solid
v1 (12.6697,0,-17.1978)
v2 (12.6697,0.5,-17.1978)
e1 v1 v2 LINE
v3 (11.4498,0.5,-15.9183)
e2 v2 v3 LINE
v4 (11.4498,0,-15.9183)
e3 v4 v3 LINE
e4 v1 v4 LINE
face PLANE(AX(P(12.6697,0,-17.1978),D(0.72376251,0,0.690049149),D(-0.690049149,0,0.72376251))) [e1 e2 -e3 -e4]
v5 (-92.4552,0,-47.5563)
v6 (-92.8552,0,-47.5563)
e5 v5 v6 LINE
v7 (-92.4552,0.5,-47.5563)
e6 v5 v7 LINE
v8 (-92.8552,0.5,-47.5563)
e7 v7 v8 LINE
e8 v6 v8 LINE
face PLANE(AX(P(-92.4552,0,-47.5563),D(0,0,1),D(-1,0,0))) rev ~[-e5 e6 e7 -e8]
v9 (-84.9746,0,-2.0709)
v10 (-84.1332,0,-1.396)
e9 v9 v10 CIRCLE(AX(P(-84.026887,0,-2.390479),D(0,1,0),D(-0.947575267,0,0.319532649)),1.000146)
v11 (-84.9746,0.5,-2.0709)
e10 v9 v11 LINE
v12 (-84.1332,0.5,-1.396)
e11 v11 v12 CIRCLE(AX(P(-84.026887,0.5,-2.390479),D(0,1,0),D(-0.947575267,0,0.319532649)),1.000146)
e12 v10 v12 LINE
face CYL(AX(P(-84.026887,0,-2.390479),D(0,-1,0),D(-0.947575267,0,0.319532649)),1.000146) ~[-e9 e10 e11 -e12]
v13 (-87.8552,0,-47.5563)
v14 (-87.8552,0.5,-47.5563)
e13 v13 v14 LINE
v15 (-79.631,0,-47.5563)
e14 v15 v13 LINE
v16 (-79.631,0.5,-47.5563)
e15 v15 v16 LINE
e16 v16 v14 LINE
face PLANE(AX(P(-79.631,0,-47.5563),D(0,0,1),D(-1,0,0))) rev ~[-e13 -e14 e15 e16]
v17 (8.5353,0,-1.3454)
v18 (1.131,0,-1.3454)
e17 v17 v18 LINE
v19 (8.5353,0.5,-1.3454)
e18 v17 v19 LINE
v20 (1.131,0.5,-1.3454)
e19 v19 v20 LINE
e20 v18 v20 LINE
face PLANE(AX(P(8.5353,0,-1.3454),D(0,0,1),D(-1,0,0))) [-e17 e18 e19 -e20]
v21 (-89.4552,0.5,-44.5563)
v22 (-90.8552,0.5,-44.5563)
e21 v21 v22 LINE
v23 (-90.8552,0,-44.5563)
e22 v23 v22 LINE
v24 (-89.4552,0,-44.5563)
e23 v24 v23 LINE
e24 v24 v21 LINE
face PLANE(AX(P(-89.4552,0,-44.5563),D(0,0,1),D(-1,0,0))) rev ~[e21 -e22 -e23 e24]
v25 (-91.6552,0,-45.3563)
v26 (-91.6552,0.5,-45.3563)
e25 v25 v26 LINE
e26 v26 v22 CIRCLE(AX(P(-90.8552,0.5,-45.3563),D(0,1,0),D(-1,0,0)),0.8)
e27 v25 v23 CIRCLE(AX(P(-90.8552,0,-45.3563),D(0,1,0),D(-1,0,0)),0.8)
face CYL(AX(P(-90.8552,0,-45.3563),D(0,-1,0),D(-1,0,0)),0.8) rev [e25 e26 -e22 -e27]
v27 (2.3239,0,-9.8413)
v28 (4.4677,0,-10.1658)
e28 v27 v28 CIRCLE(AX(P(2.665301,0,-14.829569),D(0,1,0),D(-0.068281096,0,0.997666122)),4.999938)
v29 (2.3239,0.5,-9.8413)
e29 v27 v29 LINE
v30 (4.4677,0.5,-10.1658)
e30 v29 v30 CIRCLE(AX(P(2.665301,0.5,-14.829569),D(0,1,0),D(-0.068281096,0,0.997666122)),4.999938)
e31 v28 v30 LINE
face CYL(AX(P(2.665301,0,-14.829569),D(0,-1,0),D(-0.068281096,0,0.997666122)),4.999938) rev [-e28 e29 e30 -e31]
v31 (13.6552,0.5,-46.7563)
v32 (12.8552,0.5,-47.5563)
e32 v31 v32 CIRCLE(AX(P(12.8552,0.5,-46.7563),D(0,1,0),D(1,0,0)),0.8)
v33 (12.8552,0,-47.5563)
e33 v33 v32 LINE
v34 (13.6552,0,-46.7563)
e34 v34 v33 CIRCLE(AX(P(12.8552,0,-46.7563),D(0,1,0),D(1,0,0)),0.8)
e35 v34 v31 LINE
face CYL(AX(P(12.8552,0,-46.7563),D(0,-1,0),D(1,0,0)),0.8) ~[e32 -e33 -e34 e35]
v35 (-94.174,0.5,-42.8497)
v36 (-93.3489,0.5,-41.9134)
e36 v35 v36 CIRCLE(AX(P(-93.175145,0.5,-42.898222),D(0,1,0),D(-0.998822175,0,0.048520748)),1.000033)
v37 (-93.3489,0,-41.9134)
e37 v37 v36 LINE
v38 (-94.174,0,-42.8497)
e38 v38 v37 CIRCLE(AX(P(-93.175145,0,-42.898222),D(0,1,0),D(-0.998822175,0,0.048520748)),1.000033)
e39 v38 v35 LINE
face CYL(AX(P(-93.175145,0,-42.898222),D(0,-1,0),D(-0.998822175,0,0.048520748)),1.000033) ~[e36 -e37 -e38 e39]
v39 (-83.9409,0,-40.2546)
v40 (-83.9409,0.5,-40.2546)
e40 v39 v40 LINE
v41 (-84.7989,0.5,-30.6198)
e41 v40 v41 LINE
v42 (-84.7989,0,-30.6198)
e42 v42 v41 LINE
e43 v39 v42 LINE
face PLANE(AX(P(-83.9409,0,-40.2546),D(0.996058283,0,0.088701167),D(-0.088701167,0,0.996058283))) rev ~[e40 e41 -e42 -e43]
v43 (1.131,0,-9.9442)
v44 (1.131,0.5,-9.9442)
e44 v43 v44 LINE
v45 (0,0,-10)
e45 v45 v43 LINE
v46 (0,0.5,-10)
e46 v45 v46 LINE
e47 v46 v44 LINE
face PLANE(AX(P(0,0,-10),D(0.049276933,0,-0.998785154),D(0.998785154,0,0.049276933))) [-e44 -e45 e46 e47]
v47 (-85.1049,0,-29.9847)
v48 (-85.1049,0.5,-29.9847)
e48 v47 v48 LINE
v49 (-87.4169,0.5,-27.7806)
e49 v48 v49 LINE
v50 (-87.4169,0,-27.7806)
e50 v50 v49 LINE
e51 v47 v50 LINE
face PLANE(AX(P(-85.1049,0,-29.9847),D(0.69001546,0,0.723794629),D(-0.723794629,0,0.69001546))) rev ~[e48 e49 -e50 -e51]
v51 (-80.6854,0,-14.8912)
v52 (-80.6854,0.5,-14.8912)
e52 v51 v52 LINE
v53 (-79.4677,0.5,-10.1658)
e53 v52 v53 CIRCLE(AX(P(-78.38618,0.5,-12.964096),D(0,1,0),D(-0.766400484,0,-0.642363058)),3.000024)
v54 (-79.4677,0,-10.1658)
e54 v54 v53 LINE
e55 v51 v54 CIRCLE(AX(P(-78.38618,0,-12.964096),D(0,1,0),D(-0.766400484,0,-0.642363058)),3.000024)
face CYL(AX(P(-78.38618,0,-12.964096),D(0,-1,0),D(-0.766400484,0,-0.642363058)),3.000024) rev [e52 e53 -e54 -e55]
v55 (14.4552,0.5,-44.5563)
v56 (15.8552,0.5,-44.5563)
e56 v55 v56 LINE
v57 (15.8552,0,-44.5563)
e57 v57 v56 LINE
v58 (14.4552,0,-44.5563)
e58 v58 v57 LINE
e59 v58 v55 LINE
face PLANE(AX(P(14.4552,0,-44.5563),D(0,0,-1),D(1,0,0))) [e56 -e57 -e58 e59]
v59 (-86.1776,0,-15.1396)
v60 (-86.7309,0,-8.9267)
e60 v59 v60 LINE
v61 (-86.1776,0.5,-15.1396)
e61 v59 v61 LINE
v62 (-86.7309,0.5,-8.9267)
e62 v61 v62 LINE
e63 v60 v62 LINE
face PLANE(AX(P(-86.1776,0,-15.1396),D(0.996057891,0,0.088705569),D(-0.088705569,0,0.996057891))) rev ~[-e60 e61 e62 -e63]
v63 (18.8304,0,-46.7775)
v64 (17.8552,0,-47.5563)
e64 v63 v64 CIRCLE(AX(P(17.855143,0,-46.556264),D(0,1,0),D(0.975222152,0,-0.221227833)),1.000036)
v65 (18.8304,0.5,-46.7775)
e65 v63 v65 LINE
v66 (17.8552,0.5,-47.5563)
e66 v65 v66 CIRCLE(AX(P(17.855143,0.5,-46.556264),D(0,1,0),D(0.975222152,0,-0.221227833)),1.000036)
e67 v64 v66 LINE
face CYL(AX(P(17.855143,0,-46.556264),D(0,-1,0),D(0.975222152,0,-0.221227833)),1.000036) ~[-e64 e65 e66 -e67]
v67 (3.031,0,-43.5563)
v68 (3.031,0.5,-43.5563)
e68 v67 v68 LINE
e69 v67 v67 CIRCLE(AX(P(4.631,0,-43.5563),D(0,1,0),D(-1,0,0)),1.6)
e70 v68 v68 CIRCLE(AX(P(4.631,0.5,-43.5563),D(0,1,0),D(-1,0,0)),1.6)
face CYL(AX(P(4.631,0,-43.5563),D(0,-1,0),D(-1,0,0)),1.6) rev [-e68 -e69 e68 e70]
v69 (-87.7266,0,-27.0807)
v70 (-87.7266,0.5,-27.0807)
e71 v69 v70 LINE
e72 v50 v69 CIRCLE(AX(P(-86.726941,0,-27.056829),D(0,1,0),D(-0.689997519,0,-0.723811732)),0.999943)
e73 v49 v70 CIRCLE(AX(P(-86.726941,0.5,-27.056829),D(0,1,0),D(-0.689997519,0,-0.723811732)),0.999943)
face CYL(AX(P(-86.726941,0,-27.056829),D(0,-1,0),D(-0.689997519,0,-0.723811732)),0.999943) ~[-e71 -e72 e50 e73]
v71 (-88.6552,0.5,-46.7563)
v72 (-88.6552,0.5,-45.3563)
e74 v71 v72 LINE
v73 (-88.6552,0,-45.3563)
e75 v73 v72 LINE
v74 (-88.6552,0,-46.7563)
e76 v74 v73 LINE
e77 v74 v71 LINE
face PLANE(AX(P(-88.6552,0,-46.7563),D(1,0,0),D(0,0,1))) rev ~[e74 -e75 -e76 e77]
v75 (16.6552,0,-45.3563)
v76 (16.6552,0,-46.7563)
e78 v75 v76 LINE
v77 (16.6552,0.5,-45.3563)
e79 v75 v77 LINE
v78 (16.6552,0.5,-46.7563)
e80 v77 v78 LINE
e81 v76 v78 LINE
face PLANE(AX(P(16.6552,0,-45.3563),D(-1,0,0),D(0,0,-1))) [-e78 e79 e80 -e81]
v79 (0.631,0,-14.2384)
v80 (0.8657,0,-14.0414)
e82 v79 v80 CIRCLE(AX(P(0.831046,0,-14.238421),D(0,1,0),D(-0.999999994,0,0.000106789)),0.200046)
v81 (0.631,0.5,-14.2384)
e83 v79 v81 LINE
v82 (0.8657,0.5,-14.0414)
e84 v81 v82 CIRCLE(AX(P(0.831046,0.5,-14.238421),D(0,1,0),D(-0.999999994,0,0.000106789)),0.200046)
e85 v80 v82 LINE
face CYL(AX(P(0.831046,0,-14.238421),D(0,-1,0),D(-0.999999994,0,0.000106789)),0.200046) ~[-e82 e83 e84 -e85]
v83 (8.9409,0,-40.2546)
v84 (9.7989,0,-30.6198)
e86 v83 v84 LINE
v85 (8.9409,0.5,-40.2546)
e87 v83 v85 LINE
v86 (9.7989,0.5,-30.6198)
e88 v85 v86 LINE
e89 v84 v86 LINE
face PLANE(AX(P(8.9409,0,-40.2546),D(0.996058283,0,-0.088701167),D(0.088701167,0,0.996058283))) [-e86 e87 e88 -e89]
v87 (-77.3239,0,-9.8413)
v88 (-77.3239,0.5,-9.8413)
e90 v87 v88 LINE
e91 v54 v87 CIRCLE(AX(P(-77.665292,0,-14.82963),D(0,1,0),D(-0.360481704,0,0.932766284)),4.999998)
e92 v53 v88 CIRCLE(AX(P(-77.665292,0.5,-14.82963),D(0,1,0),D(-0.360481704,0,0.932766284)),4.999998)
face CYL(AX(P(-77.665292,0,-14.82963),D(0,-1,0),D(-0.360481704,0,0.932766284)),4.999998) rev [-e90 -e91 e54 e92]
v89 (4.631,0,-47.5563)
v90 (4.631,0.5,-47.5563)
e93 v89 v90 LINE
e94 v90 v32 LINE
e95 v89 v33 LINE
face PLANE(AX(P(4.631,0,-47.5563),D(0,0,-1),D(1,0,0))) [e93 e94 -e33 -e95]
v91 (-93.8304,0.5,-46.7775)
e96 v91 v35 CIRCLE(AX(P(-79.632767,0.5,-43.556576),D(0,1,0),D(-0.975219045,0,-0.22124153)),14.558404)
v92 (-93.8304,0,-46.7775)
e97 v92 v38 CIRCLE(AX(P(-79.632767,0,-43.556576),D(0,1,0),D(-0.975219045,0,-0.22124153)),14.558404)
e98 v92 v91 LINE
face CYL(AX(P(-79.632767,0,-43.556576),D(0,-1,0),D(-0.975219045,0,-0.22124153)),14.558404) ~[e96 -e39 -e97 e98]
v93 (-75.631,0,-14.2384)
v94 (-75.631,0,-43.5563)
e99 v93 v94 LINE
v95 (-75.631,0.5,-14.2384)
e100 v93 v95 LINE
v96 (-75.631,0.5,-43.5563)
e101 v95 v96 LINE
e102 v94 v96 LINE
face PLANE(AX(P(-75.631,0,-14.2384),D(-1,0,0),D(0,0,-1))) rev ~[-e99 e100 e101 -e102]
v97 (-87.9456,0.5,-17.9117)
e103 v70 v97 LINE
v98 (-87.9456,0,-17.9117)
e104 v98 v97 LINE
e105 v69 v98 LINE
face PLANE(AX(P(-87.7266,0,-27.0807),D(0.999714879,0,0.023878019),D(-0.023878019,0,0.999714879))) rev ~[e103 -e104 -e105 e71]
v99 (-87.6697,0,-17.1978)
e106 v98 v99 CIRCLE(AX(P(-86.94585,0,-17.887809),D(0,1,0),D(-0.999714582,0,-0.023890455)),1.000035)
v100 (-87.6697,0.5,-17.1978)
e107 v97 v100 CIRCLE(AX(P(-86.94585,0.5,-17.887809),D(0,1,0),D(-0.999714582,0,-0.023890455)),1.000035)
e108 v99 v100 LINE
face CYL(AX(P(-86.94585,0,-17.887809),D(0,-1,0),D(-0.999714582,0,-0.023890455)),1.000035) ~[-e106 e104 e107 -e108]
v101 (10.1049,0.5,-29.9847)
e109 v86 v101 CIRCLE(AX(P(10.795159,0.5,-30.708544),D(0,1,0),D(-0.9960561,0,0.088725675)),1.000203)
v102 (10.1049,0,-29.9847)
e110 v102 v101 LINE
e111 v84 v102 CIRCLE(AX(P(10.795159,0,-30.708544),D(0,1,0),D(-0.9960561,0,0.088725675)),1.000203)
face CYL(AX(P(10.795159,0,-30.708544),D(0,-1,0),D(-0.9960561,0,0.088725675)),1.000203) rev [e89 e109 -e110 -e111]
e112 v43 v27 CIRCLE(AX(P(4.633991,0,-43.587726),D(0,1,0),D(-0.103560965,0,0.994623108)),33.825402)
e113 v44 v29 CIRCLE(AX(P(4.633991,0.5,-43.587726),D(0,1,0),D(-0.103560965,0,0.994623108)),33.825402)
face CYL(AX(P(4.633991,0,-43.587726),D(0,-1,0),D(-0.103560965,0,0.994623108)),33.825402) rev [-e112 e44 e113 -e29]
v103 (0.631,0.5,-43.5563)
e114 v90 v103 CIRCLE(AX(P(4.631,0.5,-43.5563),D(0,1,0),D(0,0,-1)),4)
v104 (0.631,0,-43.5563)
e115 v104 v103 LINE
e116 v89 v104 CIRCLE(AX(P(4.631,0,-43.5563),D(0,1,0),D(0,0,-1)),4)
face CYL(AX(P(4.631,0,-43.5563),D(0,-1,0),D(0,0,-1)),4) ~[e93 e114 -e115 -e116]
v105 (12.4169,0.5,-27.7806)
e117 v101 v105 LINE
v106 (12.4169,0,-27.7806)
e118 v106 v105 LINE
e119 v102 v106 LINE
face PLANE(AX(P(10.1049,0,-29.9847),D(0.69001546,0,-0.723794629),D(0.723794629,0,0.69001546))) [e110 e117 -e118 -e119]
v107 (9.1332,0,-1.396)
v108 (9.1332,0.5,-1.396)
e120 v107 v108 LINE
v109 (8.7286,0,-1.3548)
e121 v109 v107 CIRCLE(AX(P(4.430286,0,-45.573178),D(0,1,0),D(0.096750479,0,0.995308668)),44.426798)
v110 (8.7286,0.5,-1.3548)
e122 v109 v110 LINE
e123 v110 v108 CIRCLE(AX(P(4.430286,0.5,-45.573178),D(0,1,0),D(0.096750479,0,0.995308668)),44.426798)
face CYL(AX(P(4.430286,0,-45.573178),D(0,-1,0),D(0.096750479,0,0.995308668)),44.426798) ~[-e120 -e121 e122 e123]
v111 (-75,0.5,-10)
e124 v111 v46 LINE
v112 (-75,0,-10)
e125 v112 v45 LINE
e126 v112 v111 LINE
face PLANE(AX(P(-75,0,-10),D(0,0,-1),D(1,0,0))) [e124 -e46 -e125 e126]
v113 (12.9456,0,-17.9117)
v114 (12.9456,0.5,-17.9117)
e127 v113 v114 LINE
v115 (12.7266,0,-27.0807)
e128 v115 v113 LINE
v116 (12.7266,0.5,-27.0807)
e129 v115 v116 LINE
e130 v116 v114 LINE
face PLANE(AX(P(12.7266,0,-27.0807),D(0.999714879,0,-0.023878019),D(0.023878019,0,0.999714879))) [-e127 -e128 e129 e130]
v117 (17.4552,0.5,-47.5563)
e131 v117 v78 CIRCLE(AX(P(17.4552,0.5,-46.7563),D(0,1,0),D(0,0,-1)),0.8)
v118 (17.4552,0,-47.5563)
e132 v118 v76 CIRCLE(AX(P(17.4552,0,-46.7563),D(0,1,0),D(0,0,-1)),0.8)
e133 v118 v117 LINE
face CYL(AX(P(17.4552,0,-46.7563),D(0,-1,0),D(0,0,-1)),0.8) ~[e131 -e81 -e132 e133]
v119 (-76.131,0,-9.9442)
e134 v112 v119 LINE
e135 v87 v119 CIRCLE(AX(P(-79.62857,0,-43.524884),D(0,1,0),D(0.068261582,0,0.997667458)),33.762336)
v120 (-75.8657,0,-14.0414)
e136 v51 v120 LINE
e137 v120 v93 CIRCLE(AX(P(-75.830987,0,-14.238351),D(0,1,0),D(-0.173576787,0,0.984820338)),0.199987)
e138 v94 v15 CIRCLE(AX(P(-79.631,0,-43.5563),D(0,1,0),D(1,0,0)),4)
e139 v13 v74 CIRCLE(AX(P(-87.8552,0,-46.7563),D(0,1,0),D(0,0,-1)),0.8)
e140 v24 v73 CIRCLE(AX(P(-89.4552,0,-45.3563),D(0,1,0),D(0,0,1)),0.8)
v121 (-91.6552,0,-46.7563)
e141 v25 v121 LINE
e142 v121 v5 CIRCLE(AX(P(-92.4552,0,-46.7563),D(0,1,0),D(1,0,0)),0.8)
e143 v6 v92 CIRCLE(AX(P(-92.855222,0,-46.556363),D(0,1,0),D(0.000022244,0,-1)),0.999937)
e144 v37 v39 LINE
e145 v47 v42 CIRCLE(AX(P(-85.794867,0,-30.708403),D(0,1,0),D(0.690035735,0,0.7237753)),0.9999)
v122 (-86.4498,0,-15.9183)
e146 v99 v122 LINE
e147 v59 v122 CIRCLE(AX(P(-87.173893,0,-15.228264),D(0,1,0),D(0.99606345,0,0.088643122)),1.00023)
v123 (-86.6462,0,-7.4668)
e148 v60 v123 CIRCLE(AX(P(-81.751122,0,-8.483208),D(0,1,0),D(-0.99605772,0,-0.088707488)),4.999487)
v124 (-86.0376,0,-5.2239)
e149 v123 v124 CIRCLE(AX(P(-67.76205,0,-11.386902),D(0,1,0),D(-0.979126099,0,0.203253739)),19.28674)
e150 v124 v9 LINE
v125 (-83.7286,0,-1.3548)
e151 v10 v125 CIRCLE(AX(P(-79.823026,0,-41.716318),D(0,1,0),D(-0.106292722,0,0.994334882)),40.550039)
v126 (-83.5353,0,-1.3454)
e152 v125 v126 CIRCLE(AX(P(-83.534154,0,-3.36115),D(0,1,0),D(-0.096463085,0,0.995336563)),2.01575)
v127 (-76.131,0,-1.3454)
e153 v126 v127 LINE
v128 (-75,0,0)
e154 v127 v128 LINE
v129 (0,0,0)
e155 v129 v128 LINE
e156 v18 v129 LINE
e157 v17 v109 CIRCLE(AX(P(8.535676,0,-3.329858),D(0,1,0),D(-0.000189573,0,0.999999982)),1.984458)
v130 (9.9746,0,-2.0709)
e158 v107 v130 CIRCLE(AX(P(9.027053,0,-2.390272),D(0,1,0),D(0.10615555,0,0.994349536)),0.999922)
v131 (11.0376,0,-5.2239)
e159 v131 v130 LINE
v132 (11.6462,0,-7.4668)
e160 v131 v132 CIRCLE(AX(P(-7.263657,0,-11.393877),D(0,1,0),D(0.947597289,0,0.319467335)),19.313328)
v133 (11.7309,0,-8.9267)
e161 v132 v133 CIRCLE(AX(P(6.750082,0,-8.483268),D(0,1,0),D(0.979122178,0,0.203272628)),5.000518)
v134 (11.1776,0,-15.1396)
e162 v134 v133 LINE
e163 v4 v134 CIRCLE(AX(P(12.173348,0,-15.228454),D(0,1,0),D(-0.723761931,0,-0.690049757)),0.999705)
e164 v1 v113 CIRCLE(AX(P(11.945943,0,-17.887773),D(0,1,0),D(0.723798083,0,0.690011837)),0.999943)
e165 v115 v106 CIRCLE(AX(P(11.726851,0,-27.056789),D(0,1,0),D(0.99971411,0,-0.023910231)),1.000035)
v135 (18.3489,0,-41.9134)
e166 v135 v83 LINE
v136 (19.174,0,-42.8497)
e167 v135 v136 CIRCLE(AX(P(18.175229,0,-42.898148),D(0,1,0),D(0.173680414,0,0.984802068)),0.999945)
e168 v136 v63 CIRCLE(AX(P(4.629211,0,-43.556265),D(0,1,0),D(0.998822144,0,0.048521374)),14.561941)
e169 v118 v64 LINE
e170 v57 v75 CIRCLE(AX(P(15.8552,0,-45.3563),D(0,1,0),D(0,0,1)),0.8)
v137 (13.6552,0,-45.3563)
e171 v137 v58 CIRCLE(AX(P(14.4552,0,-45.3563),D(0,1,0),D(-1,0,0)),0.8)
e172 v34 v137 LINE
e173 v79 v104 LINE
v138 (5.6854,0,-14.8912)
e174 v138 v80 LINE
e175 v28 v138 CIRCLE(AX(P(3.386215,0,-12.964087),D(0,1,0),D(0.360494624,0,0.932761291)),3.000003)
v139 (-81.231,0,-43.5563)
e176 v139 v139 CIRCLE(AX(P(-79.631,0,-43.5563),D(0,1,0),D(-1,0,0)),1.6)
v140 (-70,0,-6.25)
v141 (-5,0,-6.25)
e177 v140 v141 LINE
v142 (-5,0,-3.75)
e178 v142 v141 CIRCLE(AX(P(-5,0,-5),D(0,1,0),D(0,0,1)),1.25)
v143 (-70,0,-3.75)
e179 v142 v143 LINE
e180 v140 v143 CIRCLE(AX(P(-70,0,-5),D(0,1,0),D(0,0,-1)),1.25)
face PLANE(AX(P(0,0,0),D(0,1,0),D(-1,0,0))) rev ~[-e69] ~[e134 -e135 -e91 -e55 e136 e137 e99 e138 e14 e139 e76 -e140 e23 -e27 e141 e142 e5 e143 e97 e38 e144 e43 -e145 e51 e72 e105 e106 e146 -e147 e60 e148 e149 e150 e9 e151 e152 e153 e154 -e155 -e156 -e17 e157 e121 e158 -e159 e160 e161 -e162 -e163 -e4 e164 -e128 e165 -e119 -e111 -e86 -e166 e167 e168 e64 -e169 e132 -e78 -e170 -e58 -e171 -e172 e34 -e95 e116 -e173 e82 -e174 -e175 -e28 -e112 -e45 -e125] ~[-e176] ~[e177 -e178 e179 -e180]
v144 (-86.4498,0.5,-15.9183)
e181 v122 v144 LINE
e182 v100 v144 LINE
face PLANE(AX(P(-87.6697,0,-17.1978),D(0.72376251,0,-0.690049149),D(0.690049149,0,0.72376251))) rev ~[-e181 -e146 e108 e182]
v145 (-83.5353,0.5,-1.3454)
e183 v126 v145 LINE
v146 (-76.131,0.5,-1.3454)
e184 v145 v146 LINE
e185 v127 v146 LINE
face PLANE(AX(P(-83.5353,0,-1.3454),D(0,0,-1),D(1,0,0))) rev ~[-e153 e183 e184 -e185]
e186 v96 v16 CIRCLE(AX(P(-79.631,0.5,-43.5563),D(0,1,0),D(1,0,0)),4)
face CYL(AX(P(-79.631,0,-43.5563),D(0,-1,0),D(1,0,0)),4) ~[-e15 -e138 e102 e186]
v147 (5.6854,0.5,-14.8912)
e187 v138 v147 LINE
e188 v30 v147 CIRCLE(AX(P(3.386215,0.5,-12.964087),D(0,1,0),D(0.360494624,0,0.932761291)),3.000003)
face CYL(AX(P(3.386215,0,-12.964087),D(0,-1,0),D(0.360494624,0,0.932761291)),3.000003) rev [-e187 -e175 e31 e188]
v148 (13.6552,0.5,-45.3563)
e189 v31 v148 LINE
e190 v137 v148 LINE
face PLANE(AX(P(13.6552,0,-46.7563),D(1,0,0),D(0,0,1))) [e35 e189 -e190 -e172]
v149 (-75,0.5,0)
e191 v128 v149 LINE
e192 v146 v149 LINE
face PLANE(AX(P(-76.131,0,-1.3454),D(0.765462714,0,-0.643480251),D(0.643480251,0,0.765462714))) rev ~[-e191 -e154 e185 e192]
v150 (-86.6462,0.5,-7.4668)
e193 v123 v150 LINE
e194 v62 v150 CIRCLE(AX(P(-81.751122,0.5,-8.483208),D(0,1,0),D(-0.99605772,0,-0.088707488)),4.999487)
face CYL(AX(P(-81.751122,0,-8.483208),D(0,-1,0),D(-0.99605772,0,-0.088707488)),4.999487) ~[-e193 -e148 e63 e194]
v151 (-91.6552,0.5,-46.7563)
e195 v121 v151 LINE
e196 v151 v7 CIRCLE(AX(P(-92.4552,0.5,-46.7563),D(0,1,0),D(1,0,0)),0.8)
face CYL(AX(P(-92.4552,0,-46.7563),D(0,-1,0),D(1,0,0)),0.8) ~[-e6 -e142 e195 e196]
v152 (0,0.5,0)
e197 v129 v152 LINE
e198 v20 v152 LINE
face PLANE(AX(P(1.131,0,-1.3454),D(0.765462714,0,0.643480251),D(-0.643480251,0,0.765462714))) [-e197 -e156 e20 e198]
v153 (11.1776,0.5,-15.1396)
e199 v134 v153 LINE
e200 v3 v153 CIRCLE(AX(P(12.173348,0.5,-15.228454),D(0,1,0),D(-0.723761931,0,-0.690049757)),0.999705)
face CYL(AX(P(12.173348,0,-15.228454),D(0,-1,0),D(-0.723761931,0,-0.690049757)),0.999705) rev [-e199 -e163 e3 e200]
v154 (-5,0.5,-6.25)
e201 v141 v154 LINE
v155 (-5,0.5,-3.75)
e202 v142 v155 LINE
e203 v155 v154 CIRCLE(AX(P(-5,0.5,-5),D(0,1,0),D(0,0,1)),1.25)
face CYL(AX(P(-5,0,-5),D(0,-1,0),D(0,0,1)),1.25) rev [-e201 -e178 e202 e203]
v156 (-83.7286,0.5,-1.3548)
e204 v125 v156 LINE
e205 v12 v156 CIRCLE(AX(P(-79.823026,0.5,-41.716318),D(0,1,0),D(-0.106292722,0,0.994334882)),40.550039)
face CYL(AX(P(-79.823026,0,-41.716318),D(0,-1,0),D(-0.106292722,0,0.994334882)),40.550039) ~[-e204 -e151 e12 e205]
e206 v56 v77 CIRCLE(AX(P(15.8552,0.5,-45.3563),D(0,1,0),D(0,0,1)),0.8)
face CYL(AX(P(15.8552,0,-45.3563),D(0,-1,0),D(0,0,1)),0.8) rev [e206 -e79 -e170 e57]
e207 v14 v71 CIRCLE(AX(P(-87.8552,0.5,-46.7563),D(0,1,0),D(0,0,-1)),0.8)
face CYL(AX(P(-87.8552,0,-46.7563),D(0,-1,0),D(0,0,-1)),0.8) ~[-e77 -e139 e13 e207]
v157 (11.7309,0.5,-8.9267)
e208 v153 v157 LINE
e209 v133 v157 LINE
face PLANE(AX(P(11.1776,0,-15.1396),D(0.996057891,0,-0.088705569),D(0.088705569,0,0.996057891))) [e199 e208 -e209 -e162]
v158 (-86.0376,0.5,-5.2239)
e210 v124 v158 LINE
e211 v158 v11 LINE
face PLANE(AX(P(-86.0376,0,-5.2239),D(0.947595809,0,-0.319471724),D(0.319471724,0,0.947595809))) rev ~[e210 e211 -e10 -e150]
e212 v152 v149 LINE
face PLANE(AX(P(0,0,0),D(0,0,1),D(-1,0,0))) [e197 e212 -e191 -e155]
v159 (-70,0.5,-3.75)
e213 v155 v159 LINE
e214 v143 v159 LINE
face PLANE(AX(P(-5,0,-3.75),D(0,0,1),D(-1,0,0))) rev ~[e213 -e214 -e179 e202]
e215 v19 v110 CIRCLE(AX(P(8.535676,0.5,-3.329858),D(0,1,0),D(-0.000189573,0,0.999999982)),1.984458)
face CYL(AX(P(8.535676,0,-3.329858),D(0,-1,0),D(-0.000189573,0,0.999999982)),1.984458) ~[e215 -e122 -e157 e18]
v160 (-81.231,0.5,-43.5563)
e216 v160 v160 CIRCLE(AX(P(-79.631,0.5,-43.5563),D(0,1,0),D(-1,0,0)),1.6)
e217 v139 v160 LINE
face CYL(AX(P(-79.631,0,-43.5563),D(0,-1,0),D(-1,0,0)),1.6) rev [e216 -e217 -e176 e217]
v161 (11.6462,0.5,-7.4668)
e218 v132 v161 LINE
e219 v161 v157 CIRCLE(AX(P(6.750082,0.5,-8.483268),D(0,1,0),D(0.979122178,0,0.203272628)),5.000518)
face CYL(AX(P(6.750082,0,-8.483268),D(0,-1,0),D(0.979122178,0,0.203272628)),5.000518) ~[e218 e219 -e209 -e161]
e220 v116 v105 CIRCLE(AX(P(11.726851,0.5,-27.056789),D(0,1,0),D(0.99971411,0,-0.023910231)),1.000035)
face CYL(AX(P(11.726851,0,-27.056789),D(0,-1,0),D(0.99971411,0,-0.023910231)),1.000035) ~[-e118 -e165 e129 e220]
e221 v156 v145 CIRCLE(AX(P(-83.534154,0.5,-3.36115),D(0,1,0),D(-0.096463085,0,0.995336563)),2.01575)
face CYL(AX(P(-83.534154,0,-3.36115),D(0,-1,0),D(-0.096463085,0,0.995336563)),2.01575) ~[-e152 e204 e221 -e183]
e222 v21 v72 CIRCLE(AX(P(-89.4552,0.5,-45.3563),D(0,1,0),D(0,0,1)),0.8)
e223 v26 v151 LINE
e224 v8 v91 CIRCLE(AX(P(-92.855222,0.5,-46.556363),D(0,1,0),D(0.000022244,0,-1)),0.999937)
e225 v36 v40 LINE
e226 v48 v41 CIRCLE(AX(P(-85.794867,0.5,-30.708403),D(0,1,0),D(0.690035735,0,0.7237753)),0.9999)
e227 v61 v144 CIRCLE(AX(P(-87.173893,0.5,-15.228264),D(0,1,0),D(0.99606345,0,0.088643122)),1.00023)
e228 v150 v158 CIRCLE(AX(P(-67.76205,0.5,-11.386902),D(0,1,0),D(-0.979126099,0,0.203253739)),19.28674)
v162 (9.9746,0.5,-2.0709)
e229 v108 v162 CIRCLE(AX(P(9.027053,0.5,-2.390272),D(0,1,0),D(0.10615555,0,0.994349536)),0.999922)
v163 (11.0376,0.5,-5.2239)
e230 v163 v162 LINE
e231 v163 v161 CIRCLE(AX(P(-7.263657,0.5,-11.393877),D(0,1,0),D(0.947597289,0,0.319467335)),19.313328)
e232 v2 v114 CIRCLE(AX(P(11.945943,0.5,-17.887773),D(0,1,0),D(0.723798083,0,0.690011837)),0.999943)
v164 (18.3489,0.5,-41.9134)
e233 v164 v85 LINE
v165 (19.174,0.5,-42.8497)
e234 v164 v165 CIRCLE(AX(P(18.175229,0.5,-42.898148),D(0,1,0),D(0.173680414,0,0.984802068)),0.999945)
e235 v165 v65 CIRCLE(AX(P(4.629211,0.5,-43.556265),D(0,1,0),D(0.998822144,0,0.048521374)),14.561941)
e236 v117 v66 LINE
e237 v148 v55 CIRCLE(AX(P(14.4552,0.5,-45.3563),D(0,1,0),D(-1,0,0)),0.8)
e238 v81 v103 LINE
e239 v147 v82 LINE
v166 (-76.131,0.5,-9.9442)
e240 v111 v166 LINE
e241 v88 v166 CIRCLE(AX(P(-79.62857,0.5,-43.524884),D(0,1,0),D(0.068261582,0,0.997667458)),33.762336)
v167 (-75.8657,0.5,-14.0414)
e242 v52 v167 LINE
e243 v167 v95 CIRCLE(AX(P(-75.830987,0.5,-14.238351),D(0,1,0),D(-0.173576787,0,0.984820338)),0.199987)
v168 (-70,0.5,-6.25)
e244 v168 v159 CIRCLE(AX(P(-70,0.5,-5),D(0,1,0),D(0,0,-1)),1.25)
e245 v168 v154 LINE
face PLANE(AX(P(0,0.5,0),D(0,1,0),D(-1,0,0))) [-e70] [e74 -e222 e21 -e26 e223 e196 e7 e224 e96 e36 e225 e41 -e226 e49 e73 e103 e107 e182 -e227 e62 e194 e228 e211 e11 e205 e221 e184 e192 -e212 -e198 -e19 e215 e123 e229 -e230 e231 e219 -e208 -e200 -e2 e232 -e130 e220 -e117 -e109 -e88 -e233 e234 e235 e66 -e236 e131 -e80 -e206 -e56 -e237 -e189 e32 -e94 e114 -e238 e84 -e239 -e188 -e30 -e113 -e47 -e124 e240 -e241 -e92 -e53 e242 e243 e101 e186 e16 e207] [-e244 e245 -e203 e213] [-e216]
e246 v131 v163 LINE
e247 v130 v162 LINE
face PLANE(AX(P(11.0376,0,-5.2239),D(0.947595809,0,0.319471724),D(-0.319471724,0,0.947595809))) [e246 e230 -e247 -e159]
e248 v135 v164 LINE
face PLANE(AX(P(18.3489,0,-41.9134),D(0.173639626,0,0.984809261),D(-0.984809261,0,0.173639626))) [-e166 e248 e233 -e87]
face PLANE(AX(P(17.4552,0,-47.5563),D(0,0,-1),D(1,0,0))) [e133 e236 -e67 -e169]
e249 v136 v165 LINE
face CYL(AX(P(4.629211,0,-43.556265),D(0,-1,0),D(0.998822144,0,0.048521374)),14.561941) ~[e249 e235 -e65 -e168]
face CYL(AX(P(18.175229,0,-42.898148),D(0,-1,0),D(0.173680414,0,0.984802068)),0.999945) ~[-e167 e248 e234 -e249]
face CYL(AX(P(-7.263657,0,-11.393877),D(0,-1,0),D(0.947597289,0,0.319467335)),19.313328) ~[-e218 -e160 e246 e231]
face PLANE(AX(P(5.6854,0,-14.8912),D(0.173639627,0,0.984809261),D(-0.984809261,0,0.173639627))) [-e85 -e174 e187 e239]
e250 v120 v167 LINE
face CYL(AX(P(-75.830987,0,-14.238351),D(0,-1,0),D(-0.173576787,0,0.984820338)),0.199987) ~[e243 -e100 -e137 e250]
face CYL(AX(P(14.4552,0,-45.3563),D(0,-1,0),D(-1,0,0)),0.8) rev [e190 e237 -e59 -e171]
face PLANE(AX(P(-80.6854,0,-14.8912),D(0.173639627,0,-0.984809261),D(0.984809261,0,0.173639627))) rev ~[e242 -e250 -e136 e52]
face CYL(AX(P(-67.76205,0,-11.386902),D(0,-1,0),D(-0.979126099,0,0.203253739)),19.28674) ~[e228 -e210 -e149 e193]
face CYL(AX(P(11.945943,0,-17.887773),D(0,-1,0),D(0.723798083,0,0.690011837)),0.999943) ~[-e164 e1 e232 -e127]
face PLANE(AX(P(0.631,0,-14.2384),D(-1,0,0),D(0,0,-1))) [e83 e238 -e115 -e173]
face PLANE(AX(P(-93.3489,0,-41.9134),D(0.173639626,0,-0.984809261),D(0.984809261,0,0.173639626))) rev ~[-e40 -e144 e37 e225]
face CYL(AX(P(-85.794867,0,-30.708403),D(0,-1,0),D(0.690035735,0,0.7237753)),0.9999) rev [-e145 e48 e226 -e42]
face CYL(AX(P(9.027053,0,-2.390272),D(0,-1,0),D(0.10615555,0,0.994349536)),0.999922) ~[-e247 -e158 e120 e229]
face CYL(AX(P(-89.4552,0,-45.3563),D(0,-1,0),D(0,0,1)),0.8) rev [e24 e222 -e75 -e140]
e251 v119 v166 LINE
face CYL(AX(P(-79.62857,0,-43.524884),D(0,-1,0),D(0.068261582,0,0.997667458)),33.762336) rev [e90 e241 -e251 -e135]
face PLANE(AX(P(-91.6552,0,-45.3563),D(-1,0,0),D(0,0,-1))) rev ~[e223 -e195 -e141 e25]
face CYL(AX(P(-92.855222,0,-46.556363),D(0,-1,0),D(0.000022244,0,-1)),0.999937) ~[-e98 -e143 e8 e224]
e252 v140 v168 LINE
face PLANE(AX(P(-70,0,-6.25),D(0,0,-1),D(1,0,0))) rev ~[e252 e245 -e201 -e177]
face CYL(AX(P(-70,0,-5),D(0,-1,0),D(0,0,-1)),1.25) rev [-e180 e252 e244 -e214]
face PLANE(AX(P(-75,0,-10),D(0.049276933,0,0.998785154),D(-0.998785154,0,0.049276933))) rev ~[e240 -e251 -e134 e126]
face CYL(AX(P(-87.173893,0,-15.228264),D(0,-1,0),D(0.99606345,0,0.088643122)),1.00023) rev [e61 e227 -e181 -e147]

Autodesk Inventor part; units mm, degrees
ref_plane "YZ Plane" through (0, 0, 0) normal (1, 0, 0) x (0, 1, 0)
ref_plane "XZ Plane" through (0, 0, 0) normal (0, 1, 0) x (-1, 0, 0)
ref_plane "XY Plane" through (0, 0, 0) normal (0, 0, 1) x (1, 0, 0)
sketch "Эскиз1" plane through (0, 0, 0) normal (0, 1, 0) x (-1, 0, 0)
  circle A0 centre (-4.631, -43.5563) radius 1.6
  arc A1 (5, -3.75) -> (5, -6.25) centre (5, -5) ccw
  line L0 (5, -3.75) -> (70, -3.75)
  arc A2 (70, -6.25) -> (70, -3.75) centre (70, -5) ccw
  line L1 (70, -6.25) -> (5, -6.25)
  arc A3 (77.3239, -9.8413) -> (76.131, -9.9442) centre (79.631, -43.5563) ccw
  arc A4 (79.4677, -10.1658) -> (77.3239, -9.8413) centre (77.6653, -14.8296) ccw
  arc A5 (80.6854, -14.8912) -> (79.4677, -10.1658) centre (78.3862, -12.9641) ccw
  line L2 (80.6854, -14.8912) -> (75.8657, -14.0414)
  arc A6 (75.8657, -14.0414) -> (75.631, -14.2384) centre (75.831, -14.2384) ccw
  line L3 (75.631, -14.2384) -> (75.631, -43.5563)
  arc A7 (75.631, -43.5563) -> (79.631, -47.5563) centre (79.631, -43.5563) ccw
  line L4 (79.631, -47.5563) -> (87.8552, -47.5563)
  arc A8 (87.8552, -47.5563) -> (88.6552, -46.7563) centre (87.8552, -46.7563) ccw
  line L5 (88.6552, -46.7563) -> (88.6552, -45.3563)
  arc A9 (89.4552, -44.5563) -> (88.6552, -45.3563) centre (89.4552, -45.3563) ccw
  line L6 (89.4552, -44.5563) -> (90.8552, -44.5563)
  arc A10 (91.6552, -45.3563) -> (90.8552, -44.5563) centre (90.8552, -45.3563) ccw
  line L7 (91.6552, -45.3563) -> (91.6552, -46.7563)
  arc A11 (91.6552, -46.7563) -> (92.4552, -47.5563) centre (92.4552, -46.7563) ccw
  line L8 (92.4552, -47.5563) -> (92.8552, -47.5563)
  arc A12 (92.8552, -47.5563) -> (93.8304, -46.7775) centre (92.8552, -46.5563) ccw
  arc A13 (93.8304, -46.7775) -> (94.174, -42.8497) centre (79.631, -43.5563) ccw
  arc A14 (94.174, -42.8497) -> (93.3489, -41.9134) centre (93.1752, -42.8982) ccw
  line L9 (93.3489, -41.9134) -> (83.9409, -40.2546)
  line L10 (83.9409, -40.2546) -> (84.7989, -30.6198)
  arc A15 (85.1049, -29.9847) -> (84.7989, -30.6198) centre (85.795, -30.7085) ccw
  line L11 (85.1049, -29.9847) -> (87.4169, -27.7806)
  arc A16 (87.4169, -27.7806) -> (87.7266, -27.0807) centre (86.7269, -27.0568) ccw
  line L12 (87.7266, -27.0807) -> (87.9456, -17.9117)
  arc A17 (87.9456, -17.9117) -> (87.6697, -17.1978) centre (86.9459, -17.8878) ccw
  line L13 (87.6697, -17.1978) -> (86.4498, -15.9183)
  arc A18 (86.1776, -15.1396) -> (86.4498, -15.9183) centre (87.1736, -15.2283) ccw
  line L14 (86.1776, -15.1396) -> (86.7309, -8.9267)
  arc A19 (86.7309, -8.9267) -> (86.6462, -7.4668) centre (81.7506, -8.4832) ccw
  arc A20 (86.6462, -7.4668) -> (86.0376, -5.2239) centre (67.7491, -11.39) ccw
  line L15 (86.0376, -5.2239) -> (84.9746, -2.0709)
  arc A21 (84.9746, -2.0709) -> (84.1332, -1.396) centre (84.027, -2.3904) ccw
  arc A22 (84.1332, -1.396) -> (83.7286, -1.3548) centre (79.631, -43.5563) ccw
  arc A23 (83.7286, -1.3548) -> (83.5353, -1.3454) centre (83.5353, -3.3454) ccw
  line L16 (83.5353, -1.3454) -> (76.131, -1.3454)
  line L17 (76.131, -1.3454) -> (75, 0)
  line L18 (0, 0) -> (75, 0)
  line L19 (-1.131, -1.3454) -> (0, 0)
  line L20 (-8.5353, -1.3454) -> (-1.131, -1.3454)
  arc A24 (-8.5353, -1.3454) -> (-8.7286, -1.3548) centre (-8.5353, -3.3454) ccw
  arc A25 (-8.7286, -1.3548) -> (-9.1332, -1.396) centre (-4.631, -43.5563) ccw
  arc A26 (-9.1332, -1.396) -> (-9.9746, -2.0709) centre (-9.027, -2.3904) ccw
  line L21 (-11.0376, -5.2239) -> (-9.9746, -2.0709)
  arc A27 (-11.0376, -5.2239) -> (-11.6462, -7.4668) centre (7.2509, -11.39) ccw
  arc A28 (-11.6462, -7.4668) -> (-11.7309, -8.9267) centre (-6.7506, -8.4832) ccw
  line L22 (-11.1776, -15.1396) -> (-11.7309, -8.9267)
  arc A29 (-11.4498, -15.9183) -> (-11.1776, -15.1396) centre (-12.1736, -15.2283) ccw
  line L23 (-12.6697, -17.1978) -> (-11.4498, -15.9183)
  arc A30 (-12.6697, -17.1978) -> (-12.9456, -17.9117) centre (-11.9459, -17.8878) ccw
  line L24 (-12.7266, -27.0807) -> (-12.9456, -17.9117)
  arc A31 (-12.7266, -27.0807) -> (-12.4169, -27.7806) centre (-11.7269, -27.0568) ccw
  line L25 (-10.1049, -29.9847) -> (-12.4169, -27.7806)
  arc A32 (-9.7989, -30.6198) -> (-10.1049, -29.9847) centre (-10.795, -30.7085) ccw
  line L26 (-8.9409, -40.2546) -> (-9.7989, -30.6198)
  line L27 (-18.3489, -41.9134) -> (-8.9409, -40.2546)
  arc A33 (-18.3489, -41.9134) -> (-19.174, -42.8497) centre (-18.1752, -42.8982) ccw
  arc A34 (-19.174, -42.8497) -> (-18.8304, -46.7775) centre (-4.631, -43.5563) ccw
  arc A35 (-18.8304, -46.7775) -> (-17.8552, -47.5563) centre (-17.8552, -46.5563) ccw
  line L28 (-17.4552, -47.5563) -> (-17.8552, -47.5563)
  arc A36 (-17.4552, -47.5563) -> (-16.6552, -46.7563) centre (-17.4552, -46.7563) ccw
  line L29 (-16.6552, -45.3563) -> (-16.6552, -46.7563)
  arc A37 (-15.8552, -44.5563) -> (-16.6552, -45.3563) centre (-15.8552, -45.3563) ccw
  line L30 (-14.4552, -44.5563) -> (-15.8552, -44.5563)
  arc A38 (-13.6552, -45.3563) -> (-14.4552, -44.5563) centre (-14.4552, -45.3563) ccw
  line L31 (-13.6552, -46.7563) -> (-13.6552, -45.3563)
  arc A39 (-13.6552, -46.7563) -> (-12.8552, -47.5563) centre (-12.8552, -46.7563) ccw
  line L32 (-4.631, -47.5563) -> (-12.8552, -47.5563)
  arc A40 (-4.631, -47.5563) -> (-0.631, -43.5563) centre (-4.631, -43.5563) ccw
  line L33 (-0.631, -14.2384) -> (-0.631, -43.5563)
  arc A41 (-0.631, -14.2384) -> (-0.8657, -14.0414) centre (-0.831, -14.2384) ccw
  line L34 (-5.6854, -14.8912) -> (-0.8657, -14.0414)
  arc A42 (-4.4677, -10.1658) -> (-5.6854, -14.8912) centre (-3.3862, -12.9641) ccw
  arc A43 (-2.3239, -9.8413) -> (-4.4677, -10.1658) centre (-2.6653, -14.8296) ccw
  arc A44 (-1.131, -9.9442) -> (-2.3239, -9.8413) centre (-4.631, -43.5563) ccw
  line L35 (0, -10) -> (-1.131, -9.9442)
  line L36 (75, -10) -> (0, -10)
  line L37 (75, -10) -> (76.131, -9.9442)
  circle A45 centre (79.631, -43.5563) radius 1.6
extrude "Выдавливание1" add sketch "Эскиз1" along normal blind 0.5
properties part number "petal_forPrint"
